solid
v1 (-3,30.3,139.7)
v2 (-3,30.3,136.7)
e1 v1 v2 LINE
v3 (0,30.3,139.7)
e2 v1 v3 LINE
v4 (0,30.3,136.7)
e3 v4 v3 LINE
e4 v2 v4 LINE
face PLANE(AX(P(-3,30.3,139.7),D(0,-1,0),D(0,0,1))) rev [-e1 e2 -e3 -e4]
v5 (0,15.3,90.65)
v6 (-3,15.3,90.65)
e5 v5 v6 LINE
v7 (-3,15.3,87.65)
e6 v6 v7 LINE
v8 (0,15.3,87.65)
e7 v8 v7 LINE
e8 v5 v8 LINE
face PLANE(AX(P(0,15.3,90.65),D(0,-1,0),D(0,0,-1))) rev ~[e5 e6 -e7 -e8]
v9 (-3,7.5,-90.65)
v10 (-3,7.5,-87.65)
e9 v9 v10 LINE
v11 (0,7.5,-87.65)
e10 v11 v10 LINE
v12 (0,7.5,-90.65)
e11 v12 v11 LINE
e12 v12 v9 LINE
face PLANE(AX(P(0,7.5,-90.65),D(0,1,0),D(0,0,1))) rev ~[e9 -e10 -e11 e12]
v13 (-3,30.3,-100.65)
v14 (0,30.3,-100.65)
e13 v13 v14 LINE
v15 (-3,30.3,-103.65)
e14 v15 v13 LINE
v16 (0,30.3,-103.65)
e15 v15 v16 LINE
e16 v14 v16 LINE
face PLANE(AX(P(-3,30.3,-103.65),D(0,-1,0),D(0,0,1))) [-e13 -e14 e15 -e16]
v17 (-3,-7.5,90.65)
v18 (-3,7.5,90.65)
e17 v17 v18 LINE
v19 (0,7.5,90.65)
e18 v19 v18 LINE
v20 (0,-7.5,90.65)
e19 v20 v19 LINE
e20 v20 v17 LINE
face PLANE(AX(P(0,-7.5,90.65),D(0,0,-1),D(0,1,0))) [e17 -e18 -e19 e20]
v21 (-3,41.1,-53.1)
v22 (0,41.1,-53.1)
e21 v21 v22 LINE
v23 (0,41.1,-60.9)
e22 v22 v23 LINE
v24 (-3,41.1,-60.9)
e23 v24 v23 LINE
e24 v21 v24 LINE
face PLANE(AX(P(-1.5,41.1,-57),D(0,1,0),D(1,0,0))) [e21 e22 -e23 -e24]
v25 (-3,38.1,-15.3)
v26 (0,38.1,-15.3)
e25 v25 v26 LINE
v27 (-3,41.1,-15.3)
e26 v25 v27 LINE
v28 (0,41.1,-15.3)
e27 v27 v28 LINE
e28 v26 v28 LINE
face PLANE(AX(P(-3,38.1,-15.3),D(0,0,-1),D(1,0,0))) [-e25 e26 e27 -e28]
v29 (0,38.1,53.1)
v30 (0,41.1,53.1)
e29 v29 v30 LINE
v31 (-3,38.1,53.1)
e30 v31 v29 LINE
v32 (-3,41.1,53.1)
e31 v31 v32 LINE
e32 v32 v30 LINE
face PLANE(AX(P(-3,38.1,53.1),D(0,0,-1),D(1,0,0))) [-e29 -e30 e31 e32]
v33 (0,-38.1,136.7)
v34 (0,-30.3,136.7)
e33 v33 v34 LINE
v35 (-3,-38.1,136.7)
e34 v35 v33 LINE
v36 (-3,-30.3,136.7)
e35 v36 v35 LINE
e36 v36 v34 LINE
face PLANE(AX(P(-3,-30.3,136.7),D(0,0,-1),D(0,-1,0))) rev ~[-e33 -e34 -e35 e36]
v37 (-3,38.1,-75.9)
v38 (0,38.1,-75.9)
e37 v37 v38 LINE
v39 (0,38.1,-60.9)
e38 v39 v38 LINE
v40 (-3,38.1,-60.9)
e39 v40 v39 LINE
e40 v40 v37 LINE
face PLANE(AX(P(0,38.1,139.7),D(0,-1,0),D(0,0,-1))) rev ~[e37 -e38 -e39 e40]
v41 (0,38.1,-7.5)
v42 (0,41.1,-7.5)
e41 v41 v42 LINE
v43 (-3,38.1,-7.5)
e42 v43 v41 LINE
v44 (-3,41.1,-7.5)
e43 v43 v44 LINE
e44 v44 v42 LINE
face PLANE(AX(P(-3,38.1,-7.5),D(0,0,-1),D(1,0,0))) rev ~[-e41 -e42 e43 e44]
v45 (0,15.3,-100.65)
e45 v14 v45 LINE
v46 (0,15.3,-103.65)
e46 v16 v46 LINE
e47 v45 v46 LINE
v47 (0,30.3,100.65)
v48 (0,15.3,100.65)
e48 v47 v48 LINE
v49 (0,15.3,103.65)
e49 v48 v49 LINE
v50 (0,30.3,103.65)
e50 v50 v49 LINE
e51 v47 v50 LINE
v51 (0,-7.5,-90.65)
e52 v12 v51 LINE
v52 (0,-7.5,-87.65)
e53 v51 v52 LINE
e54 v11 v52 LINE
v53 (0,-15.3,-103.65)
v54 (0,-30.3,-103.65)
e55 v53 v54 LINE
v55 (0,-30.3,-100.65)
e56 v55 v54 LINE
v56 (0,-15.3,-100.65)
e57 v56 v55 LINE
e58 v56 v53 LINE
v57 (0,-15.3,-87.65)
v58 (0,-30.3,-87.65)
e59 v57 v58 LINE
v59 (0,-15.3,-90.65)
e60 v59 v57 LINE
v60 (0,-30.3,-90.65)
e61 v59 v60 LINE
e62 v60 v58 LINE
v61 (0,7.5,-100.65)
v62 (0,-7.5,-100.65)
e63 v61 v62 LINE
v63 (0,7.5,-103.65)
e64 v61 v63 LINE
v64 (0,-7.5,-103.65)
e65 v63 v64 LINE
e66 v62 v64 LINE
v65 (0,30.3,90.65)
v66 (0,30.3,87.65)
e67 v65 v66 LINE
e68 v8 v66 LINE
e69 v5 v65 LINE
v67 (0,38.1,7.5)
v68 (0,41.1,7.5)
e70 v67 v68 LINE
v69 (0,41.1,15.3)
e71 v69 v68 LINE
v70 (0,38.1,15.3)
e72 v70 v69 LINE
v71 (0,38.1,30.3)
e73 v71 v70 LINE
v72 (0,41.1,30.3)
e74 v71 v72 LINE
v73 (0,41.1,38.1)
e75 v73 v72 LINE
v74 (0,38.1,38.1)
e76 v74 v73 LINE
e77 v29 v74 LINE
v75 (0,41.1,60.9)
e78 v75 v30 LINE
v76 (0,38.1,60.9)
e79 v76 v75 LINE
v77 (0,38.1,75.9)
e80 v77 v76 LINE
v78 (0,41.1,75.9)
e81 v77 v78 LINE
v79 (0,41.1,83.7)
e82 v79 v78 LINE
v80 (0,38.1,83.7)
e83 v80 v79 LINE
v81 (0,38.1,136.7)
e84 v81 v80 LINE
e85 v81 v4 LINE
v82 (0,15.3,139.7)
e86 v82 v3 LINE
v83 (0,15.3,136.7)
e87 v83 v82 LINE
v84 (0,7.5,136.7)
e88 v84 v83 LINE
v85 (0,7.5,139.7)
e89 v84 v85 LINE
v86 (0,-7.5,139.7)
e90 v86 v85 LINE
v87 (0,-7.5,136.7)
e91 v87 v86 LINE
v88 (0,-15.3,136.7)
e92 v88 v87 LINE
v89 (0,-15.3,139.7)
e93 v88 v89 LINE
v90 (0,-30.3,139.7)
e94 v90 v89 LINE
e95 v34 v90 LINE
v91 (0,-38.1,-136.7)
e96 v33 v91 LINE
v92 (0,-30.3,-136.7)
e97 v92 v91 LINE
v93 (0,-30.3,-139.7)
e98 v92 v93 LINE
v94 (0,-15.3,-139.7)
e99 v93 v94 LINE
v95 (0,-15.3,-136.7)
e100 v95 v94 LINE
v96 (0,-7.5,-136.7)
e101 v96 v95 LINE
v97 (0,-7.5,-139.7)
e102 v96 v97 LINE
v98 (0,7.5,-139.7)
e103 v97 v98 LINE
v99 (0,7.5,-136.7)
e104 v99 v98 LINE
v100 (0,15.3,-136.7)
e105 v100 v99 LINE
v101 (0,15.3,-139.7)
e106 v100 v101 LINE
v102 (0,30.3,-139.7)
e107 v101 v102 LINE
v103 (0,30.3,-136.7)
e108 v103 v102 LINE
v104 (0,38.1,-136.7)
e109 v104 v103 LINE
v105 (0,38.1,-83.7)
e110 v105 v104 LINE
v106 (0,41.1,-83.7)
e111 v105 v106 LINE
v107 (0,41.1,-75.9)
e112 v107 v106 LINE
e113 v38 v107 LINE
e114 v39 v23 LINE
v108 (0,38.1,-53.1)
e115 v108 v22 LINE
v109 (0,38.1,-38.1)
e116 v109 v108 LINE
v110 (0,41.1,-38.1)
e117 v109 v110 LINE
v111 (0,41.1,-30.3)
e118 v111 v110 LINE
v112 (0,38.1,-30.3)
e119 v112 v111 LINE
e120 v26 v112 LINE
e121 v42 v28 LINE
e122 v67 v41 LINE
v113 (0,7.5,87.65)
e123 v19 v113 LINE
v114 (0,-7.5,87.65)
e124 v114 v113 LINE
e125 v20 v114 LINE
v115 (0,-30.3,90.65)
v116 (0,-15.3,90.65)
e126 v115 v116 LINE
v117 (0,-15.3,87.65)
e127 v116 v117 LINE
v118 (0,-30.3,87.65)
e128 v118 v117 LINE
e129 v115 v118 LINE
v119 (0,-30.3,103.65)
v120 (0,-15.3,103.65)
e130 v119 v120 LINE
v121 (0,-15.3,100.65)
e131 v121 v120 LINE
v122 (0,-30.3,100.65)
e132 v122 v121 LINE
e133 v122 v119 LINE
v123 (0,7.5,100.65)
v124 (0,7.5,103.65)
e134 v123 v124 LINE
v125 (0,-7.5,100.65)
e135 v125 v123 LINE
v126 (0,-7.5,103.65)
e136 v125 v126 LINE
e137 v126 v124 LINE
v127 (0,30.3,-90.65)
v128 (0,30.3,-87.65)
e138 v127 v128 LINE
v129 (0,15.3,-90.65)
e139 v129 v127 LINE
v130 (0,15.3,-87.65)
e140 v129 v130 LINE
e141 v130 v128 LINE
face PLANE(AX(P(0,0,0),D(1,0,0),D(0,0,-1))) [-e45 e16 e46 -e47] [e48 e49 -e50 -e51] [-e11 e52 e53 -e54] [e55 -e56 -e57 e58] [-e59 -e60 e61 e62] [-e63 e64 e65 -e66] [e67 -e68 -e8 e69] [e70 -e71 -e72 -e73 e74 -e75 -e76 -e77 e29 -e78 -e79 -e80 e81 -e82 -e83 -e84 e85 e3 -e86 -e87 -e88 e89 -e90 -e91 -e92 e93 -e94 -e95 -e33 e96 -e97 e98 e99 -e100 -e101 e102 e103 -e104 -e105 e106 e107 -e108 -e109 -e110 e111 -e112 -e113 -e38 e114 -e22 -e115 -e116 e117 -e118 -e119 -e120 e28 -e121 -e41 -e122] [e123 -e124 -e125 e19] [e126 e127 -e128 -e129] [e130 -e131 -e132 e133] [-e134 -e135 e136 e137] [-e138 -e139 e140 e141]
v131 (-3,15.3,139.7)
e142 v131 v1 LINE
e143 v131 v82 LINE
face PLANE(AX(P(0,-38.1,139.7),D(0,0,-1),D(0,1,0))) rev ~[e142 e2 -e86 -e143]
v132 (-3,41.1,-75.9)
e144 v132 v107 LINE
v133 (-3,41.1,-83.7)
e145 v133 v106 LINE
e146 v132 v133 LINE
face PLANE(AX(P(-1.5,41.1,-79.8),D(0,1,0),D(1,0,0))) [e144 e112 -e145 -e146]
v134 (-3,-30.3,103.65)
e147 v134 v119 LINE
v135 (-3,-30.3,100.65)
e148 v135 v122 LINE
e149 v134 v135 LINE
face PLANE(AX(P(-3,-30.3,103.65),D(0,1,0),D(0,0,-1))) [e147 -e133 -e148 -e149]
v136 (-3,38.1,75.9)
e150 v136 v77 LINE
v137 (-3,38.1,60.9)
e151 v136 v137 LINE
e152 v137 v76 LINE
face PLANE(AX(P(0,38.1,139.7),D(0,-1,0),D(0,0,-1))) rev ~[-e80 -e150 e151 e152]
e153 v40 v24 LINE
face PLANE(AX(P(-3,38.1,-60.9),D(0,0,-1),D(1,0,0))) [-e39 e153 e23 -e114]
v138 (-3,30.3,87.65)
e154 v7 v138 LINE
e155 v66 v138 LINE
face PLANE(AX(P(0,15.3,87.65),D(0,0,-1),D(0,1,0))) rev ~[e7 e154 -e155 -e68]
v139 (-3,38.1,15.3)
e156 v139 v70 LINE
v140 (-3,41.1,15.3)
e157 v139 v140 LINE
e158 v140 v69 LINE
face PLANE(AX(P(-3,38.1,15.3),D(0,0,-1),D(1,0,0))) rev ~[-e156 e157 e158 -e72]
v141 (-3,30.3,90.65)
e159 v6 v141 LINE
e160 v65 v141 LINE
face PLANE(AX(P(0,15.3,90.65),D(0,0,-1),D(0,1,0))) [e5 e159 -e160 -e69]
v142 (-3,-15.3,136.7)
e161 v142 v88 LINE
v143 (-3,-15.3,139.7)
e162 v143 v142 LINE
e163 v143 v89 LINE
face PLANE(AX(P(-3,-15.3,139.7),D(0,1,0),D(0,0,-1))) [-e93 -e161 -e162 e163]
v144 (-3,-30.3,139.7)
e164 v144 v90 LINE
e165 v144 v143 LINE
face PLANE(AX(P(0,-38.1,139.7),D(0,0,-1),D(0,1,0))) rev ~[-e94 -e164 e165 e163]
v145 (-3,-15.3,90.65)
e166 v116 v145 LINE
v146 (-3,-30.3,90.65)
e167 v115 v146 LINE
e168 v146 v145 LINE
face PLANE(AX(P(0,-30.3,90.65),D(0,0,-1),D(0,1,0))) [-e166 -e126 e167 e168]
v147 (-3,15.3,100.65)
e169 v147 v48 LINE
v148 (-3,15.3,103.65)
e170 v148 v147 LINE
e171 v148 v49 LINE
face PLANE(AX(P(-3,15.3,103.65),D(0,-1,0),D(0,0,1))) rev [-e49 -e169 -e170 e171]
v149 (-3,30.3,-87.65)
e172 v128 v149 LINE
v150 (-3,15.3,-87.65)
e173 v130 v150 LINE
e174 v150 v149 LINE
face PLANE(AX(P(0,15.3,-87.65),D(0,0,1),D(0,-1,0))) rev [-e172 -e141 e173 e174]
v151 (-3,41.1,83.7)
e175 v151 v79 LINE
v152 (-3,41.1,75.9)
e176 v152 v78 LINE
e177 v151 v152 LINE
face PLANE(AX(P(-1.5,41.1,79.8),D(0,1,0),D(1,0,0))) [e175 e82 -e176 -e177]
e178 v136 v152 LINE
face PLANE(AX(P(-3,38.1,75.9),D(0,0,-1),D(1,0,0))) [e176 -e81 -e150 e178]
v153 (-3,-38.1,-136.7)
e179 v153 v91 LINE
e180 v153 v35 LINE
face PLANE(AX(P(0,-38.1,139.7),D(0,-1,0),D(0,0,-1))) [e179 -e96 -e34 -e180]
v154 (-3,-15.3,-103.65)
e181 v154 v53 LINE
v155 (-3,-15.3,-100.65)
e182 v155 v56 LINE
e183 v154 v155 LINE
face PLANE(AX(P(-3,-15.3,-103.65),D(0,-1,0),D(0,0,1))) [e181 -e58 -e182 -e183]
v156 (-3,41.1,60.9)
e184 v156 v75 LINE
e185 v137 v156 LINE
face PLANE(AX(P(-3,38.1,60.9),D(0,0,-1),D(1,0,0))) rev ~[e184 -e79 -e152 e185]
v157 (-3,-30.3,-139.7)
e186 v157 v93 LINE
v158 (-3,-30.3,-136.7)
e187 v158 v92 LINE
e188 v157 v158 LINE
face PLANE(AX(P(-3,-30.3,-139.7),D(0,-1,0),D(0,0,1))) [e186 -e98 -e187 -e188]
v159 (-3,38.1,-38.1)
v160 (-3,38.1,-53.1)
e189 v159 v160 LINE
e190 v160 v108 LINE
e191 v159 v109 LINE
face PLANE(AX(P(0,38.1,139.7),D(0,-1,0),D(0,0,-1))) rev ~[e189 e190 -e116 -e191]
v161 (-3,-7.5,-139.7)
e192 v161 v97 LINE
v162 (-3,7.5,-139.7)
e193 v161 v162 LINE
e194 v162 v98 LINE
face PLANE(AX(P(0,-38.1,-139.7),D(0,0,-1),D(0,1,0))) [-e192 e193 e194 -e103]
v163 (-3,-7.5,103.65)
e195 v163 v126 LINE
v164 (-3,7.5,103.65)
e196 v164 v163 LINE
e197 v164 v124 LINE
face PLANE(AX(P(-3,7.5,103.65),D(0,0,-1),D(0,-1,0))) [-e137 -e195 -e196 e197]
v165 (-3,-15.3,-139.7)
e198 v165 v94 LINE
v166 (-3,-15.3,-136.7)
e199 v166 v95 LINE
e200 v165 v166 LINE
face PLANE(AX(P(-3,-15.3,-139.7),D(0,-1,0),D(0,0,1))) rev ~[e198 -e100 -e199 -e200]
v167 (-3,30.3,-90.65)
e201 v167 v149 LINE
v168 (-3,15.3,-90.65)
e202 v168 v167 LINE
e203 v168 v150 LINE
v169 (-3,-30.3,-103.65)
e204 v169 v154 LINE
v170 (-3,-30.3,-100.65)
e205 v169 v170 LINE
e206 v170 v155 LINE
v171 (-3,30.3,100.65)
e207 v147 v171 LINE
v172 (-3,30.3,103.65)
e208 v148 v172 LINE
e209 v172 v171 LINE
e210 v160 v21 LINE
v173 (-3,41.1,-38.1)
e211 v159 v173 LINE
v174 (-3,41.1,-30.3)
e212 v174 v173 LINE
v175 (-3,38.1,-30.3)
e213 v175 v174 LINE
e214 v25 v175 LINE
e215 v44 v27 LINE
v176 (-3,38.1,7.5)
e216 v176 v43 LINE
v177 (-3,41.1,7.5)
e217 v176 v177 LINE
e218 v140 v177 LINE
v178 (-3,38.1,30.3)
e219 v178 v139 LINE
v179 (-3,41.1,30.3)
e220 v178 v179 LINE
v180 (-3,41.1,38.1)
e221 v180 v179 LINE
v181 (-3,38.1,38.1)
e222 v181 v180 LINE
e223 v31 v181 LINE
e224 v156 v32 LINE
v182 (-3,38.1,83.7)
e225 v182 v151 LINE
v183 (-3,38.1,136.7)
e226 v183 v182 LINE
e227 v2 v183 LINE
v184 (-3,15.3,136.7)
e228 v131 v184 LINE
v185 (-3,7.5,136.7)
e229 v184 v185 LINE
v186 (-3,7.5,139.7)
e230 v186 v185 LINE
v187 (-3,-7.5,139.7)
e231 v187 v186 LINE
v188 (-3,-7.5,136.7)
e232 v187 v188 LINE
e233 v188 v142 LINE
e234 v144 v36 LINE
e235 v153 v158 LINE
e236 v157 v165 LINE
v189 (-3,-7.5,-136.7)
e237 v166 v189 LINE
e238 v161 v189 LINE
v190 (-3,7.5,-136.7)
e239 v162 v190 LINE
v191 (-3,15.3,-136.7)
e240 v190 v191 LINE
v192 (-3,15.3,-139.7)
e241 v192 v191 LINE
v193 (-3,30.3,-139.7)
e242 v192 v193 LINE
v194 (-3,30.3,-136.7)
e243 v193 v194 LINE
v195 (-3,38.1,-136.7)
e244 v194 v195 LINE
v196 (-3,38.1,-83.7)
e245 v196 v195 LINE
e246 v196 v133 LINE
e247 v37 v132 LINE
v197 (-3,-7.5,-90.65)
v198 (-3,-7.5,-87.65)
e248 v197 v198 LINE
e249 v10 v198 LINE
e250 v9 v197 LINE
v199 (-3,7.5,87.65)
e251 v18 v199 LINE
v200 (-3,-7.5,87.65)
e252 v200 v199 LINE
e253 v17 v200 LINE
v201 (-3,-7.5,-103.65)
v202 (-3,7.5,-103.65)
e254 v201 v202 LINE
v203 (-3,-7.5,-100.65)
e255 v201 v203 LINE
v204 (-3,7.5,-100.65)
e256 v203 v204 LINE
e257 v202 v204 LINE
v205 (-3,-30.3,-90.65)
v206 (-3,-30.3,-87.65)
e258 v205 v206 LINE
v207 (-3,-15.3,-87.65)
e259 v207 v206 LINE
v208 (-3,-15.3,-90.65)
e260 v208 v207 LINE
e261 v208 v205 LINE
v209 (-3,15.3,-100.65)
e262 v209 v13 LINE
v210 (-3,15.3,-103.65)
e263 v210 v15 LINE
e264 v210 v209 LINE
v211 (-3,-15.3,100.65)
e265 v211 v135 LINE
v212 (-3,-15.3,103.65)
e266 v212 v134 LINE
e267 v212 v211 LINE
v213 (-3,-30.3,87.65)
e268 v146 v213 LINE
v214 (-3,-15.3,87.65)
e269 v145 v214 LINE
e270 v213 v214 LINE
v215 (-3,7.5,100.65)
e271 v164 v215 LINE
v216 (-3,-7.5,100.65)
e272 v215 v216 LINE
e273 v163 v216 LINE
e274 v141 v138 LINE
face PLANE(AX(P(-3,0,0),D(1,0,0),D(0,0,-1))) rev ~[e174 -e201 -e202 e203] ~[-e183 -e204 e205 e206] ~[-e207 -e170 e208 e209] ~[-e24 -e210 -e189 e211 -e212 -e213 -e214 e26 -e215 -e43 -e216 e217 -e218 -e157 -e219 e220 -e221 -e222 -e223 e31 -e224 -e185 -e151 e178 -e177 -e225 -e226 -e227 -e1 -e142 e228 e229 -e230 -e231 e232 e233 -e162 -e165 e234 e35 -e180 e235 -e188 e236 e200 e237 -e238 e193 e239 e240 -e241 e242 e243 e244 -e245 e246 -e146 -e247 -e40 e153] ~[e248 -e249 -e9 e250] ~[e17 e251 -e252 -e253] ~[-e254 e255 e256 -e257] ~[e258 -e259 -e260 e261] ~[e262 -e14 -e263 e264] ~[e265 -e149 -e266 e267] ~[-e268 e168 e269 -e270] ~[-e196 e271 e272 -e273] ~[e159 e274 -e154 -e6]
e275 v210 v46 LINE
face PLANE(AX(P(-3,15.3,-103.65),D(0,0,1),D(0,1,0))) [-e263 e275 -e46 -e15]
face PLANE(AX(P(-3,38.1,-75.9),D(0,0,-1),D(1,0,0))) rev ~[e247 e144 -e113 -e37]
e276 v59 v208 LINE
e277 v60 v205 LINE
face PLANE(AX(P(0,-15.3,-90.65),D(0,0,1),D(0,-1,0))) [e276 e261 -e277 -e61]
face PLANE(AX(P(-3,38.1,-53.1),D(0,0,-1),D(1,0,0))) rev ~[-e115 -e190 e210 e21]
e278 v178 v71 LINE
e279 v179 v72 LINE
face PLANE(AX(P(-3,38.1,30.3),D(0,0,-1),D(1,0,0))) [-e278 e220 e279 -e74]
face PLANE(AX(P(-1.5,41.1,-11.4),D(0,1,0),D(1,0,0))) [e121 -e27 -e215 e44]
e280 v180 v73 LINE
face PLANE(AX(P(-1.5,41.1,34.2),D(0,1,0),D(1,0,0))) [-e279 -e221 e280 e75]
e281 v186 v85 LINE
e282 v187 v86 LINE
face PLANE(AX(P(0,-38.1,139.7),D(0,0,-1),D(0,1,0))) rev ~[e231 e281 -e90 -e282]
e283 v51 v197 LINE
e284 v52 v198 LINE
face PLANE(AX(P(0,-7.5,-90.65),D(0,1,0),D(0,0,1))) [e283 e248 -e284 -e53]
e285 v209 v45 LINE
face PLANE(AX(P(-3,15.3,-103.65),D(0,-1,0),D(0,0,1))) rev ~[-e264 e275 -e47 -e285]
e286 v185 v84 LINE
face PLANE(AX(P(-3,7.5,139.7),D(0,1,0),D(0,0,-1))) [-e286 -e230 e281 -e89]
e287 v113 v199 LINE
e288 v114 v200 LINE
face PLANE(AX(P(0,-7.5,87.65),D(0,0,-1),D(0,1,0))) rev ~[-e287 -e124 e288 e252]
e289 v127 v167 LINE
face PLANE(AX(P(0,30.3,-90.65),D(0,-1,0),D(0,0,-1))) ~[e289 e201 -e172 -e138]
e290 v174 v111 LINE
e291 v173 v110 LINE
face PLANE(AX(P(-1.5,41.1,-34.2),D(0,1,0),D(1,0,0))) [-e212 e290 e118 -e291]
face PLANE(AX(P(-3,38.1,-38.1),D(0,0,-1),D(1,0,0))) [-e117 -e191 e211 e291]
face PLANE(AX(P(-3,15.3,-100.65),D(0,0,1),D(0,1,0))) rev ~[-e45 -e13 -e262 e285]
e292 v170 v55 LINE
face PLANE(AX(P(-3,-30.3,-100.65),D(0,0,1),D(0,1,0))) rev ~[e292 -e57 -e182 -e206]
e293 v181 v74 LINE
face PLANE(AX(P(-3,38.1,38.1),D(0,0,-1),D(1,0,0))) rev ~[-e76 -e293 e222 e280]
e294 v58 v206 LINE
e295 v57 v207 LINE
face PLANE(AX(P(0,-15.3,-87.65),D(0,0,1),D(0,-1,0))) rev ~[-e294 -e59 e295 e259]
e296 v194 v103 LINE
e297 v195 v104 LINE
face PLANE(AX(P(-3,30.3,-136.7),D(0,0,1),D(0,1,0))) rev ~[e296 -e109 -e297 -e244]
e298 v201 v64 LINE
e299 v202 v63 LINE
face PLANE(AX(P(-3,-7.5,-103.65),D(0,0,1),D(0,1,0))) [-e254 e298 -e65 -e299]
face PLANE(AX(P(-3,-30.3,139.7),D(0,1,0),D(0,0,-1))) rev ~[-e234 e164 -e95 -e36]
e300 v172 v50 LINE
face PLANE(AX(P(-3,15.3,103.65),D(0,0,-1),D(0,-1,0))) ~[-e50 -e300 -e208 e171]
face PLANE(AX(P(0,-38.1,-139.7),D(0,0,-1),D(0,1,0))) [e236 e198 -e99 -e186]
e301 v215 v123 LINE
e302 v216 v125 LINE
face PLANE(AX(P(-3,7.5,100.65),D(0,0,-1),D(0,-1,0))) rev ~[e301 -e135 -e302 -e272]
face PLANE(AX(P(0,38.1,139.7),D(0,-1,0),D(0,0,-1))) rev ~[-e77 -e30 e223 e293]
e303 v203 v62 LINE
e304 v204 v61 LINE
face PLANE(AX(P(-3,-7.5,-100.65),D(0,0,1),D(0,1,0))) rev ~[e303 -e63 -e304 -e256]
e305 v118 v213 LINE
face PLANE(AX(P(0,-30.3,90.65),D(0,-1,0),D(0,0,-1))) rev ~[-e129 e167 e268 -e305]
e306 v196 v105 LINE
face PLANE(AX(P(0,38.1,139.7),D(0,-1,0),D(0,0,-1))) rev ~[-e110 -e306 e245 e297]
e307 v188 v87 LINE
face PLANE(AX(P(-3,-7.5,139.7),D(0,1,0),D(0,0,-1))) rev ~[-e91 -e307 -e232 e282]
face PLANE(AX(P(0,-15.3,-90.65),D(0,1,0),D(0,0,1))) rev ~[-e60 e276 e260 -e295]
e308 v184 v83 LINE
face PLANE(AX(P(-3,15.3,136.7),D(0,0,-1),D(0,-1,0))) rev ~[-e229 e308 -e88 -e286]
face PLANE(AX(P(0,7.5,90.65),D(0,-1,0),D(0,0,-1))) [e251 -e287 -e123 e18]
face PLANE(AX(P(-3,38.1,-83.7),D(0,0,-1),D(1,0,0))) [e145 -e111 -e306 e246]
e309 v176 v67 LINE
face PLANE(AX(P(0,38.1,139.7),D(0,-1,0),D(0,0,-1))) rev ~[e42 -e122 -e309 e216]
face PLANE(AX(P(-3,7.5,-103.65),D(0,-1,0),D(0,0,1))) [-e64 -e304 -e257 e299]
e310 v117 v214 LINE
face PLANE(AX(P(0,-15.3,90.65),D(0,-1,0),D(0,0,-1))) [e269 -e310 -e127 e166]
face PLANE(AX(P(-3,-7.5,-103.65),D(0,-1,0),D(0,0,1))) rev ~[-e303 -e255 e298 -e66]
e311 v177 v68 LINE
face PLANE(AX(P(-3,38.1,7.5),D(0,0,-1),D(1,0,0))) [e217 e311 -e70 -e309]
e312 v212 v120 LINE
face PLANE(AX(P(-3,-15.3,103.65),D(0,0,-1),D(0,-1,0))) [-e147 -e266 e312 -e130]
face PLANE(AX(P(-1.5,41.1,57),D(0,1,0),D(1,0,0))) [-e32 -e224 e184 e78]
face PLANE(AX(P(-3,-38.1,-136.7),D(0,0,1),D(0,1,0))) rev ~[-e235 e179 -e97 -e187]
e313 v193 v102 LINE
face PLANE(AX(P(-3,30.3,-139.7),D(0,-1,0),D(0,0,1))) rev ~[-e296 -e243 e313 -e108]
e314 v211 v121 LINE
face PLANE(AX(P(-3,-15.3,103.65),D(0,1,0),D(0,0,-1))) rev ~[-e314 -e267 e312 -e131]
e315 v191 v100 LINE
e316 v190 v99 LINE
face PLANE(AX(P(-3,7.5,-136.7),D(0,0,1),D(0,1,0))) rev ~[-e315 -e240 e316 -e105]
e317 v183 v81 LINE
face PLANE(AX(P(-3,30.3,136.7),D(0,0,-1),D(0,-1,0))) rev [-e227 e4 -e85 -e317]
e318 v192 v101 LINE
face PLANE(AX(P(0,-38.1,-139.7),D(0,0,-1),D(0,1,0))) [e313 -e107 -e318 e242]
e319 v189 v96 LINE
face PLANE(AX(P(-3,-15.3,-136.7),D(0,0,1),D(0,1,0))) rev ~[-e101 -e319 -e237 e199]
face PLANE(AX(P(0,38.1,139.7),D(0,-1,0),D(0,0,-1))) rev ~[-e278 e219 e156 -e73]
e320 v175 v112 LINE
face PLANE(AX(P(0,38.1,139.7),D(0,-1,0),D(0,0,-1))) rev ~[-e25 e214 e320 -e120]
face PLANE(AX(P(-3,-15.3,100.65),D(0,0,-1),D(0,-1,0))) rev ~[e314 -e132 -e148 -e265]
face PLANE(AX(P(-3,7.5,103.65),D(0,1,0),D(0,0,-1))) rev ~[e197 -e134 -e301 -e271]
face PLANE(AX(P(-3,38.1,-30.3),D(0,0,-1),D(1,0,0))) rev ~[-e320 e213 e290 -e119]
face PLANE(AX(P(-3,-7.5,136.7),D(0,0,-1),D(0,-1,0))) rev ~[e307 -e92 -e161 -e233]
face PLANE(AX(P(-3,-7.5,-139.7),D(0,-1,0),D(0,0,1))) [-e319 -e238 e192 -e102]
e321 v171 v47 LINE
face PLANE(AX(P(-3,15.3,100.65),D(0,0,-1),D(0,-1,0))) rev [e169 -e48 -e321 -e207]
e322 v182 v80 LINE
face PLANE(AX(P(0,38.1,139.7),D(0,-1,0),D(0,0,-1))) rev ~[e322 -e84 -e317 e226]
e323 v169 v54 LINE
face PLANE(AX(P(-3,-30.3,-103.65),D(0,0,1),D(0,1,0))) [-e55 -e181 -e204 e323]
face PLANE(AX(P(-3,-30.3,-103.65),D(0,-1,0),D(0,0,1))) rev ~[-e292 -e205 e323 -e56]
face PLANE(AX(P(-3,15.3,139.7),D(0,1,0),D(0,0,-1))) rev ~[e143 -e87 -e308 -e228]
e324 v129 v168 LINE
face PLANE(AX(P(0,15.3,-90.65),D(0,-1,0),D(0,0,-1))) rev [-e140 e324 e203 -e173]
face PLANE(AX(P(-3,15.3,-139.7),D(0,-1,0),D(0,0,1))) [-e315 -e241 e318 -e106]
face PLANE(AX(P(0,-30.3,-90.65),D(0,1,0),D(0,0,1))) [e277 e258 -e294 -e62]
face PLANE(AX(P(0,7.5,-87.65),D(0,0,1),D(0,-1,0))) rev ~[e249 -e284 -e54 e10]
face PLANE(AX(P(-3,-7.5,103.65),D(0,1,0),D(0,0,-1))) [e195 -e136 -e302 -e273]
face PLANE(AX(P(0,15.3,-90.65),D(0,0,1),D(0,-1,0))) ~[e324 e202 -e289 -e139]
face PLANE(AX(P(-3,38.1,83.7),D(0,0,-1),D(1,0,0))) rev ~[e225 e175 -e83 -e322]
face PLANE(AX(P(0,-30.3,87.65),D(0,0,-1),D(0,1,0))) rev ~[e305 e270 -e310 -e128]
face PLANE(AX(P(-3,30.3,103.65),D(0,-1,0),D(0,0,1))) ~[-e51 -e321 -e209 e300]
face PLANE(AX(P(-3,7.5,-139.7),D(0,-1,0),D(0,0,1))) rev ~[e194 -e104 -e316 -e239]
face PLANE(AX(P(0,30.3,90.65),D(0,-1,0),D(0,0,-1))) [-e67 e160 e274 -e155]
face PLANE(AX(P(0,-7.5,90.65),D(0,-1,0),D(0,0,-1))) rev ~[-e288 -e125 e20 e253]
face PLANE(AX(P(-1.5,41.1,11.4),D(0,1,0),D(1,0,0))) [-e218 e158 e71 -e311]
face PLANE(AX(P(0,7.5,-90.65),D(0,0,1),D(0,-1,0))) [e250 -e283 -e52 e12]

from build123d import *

# Parameters (mm, degrees)
SKETCH1_W                 = 279.4
SKETCH1_H                 = 76.2
BOSS_EXTRUDE1_DEPTH       = 3
SKETCH3_W                 = 3
SKETCH3_H                 = 15
SKETCH3_H_2               = 7.8
CUT_EXTRUDE1_DEPTH        = 145.833352512
LPATTERN1_COUNT           = 4
LPATTERN1_PITCH           = 22.8
MIRROR1_COPY_1_SKETCH_W   = 3
MIRROR1_COPY_1_SKETCH_H   = 15
MIRROR1_COPY_1_SKETCH_H_2 = 7.8
MIRROR1_COPY_1_DEPTH      = 145.833352512
MIRROR1_COPY_2_SKETCH_W   = 3
MIRROR1_COPY_2_SKETCH_H   = 15
MIRROR1_COPY_2_SKETCH_H_2 = 7.8
MIRROR1_COPY_2_DEPTH      = 145.833352512
MIRROR1_COPY_3_SKETCH_W   = 3
MIRROR1_COPY_3_SKETCH_H   = 15
MIRROR1_COPY_3_SKETCH_H_2 = 7.8
MIRROR1_COPY_3_DEPTH      = 145.833352512
SKETCH4_W                 = 3
SKETCH4_H                 = 15
CUT_EXTRUDE2_DEPTH        = 10
LPATTERN2_COUNT           = 3
LPATTERN2_PITCH           = 22.8
MIRROR2_COPY_1_SKETCH_W   = 3
MIRROR2_COPY_1_SKETCH_H   = 15
MIRROR2_COPY_1_DEPTH      = 10
MIRROR2_COPY_2_SKETCH_W   = 3
MIRROR2_COPY_2_SKETCH_H   = 15
MIRROR2_COPY_2_DEPTH      = 10
SKETCH5_W                 = 3
SKETCH5_H                 = 7.8
BOSS_EXTRUDE2_DEPTH       = 3
LPATTERN3_COUNT           = 8
LPATTERN3_PITCH           = 22.8


with BuildPart() as part:
    # Sketch1 → Boss-Extrude1 (new body)
    with BuildSketch(Plane(origin=(0, 0, 0), x_dir=(0, 0, -1), z_dir=(1, 0, 0))):
        Rectangle(SKETCH1_W, SKETCH1_H)
    extrude(amount=-BOSS_EXTRUDE1_DEPTH)

    # Sketch3 → Cut-Extrude1 (cut, through all)
    with BuildSketch(Plane.ZY.offset(3)):
        with Locations((-102.15, 22.8)):
            Rectangle(SKETCH3_W, SKETCH3_H)
        with Locations((-138.2, 34.2)):
            Rectangle(SKETCH3_W, SKETCH3_H_2)
    cut_extrude1 = extrude(amount=-CUT_EXTRUDE1_DEPTH, mode=Mode.SUBTRACT)

    # LPattern1: Cut-Extrude1 ×4
    with Locations(*[(0, -i * LPATTERN1_PITCH, 0) for i in range(1, LPATTERN1_COUNT)]):
        add(cut_extrude1, mode=Mode.SUBTRACT)

    # Mirror1: Cut-Extrude1 across plane
    add(cut_extrude1.mirror(Plane.XY), mode=Mode.SUBTRACT)

    # Mirror1 copy 1 sketch → Mirror1 copy 1 (cut, through all)
    with BuildSketch(Plane(origin=(-3, -22.8, 0), x_dir=(0, 0, -1), z_dir=(-1, 0, 0))):
        with Locations((-102.15, -22.8)):
            Rectangle(MIRROR1_COPY_1_SKETCH_W, MIRROR1_COPY_1_SKETCH_H)
        with Locations((-138.2, -34.2)):
            Rectangle(MIRROR1_COPY_1_SKETCH_W, MIRROR1_COPY_1_SKETCH_H_2)
    extrude(amount=-MIRROR1_COPY_1_DEPTH, mode=Mode.SUBTRACT)

    # Mirror1 copy 2 sketch → Mirror1 copy 2 (cut, through all)
    with BuildSketch(Plane(origin=(-3, -45.6, 0), x_dir=(0, 0, -1), z_dir=(-1, 0, 0))):
        with Locations((-102.15, -22.8)):
            Rectangle(MIRROR1_COPY_2_SKETCH_W, MIRROR1_COPY_2_SKETCH_H)
        with Locations((-138.2, -34.2)):
            Rectangle(MIRROR1_COPY_2_SKETCH_W, MIRROR1_COPY_2_SKETCH_H_2)
    extrude(amount=-MIRROR1_COPY_2_DEPTH, mode=Mode.SUBTRACT)

    # Mirror1 copy 3 sketch → Mirror1 copy 3 (cut, through all)
    with BuildSketch(Plane(origin=(-3, -68.4, 0), x_dir=(0, 0, -1), z_dir=(-1, 0, 0))):
        with Locations((-102.15, -22.8)):
            Rectangle(MIRROR1_COPY_3_SKETCH_W, MIRROR1_COPY_3_SKETCH_H)
        with Locations((-138.2, -34.2)):
            Rectangle(MIRROR1_COPY_3_SKETCH_W, MIRROR1_COPY_3_SKETCH_H_2)
    extrude(amount=-MIRROR1_COPY_3_DEPTH, mode=Mode.SUBTRACT)

    # Sketch4 → Cut-Extrude2 (cut)
    with BuildSketch(Plane(origin=(0, 0, 0), x_dir=(0, 0, -1), z_dir=(1, 0, 0))):
        with Locations((-89.15, 22.8)):
            Rectangle(SKETCH4_W, SKETCH4_H)
    cut_extrude2 = extrude(amount=-CUT_EXTRUDE2_DEPTH, mode=Mode.SUBTRACT)

    # LPattern2: Cut-Extrude2 ×3
    with Locations(*[(0, -i * LPATTERN2_PITCH, 0) for i in range(1, LPATTERN2_COUNT)]):
        add(cut_extrude2, mode=Mode.SUBTRACT)

    # Mirror2: Cut-Extrude2 across plane
    add(cut_extrude2.mirror(Plane.XY), mode=Mode.SUBTRACT)

    # Mirror2 copy 1 sketch → Mirror2 copy 1 (cut)
    with BuildSketch(Plane(origin=(0, -22.8, 0), x_dir=(0, 0, 1), z_dir=(1, 0, 0))):
        with Locations((-89.15, -22.8)):
            Rectangle(MIRROR2_COPY_1_SKETCH_W, MIRROR2_COPY_1_SKETCH_H)
    extrude(amount=-MIRROR2_COPY_1_DEPTH, mode=Mode.SUBTRACT)

    # Mirror2 copy 2 sketch → Mirror2 copy 2 (cut)
    with BuildSketch(Plane(origin=(0, -45.6, 0), x_dir=(0, 0, 1), z_dir=(1, 0, 0))):
        with Locations((-89.15, -22.8)):
            Rectangle(MIRROR2_COPY_2_SKETCH_W, MIRROR2_COPY_2_SKETCH_H)
    extrude(amount=-MIRROR2_COPY_2_DEPTH, mode=Mode.SUBTRACT)

    # Sketch5 → Boss-Extrude2 (add)
    with BuildSketch(Plane(origin=(0, 38.1, 0), x_dir=(1, 0, 0), z_dir=(0, 1, 0))):
        with Locations((-1.5, -79.8)):
            Rectangle(SKETCH5_W, SKETCH5_H)
    boss_extrude2 = extrude(amount=BOSS_EXTRUDE2_DEPTH)

    # LPattern3: Boss-Extrude2 ×8
    with Locations(*[(0, 0, -i * LPATTERN3_PITCH) for i in range(1, LPATTERN3_COUNT)]):
        add(boss_extrude2)


solid = part.part
